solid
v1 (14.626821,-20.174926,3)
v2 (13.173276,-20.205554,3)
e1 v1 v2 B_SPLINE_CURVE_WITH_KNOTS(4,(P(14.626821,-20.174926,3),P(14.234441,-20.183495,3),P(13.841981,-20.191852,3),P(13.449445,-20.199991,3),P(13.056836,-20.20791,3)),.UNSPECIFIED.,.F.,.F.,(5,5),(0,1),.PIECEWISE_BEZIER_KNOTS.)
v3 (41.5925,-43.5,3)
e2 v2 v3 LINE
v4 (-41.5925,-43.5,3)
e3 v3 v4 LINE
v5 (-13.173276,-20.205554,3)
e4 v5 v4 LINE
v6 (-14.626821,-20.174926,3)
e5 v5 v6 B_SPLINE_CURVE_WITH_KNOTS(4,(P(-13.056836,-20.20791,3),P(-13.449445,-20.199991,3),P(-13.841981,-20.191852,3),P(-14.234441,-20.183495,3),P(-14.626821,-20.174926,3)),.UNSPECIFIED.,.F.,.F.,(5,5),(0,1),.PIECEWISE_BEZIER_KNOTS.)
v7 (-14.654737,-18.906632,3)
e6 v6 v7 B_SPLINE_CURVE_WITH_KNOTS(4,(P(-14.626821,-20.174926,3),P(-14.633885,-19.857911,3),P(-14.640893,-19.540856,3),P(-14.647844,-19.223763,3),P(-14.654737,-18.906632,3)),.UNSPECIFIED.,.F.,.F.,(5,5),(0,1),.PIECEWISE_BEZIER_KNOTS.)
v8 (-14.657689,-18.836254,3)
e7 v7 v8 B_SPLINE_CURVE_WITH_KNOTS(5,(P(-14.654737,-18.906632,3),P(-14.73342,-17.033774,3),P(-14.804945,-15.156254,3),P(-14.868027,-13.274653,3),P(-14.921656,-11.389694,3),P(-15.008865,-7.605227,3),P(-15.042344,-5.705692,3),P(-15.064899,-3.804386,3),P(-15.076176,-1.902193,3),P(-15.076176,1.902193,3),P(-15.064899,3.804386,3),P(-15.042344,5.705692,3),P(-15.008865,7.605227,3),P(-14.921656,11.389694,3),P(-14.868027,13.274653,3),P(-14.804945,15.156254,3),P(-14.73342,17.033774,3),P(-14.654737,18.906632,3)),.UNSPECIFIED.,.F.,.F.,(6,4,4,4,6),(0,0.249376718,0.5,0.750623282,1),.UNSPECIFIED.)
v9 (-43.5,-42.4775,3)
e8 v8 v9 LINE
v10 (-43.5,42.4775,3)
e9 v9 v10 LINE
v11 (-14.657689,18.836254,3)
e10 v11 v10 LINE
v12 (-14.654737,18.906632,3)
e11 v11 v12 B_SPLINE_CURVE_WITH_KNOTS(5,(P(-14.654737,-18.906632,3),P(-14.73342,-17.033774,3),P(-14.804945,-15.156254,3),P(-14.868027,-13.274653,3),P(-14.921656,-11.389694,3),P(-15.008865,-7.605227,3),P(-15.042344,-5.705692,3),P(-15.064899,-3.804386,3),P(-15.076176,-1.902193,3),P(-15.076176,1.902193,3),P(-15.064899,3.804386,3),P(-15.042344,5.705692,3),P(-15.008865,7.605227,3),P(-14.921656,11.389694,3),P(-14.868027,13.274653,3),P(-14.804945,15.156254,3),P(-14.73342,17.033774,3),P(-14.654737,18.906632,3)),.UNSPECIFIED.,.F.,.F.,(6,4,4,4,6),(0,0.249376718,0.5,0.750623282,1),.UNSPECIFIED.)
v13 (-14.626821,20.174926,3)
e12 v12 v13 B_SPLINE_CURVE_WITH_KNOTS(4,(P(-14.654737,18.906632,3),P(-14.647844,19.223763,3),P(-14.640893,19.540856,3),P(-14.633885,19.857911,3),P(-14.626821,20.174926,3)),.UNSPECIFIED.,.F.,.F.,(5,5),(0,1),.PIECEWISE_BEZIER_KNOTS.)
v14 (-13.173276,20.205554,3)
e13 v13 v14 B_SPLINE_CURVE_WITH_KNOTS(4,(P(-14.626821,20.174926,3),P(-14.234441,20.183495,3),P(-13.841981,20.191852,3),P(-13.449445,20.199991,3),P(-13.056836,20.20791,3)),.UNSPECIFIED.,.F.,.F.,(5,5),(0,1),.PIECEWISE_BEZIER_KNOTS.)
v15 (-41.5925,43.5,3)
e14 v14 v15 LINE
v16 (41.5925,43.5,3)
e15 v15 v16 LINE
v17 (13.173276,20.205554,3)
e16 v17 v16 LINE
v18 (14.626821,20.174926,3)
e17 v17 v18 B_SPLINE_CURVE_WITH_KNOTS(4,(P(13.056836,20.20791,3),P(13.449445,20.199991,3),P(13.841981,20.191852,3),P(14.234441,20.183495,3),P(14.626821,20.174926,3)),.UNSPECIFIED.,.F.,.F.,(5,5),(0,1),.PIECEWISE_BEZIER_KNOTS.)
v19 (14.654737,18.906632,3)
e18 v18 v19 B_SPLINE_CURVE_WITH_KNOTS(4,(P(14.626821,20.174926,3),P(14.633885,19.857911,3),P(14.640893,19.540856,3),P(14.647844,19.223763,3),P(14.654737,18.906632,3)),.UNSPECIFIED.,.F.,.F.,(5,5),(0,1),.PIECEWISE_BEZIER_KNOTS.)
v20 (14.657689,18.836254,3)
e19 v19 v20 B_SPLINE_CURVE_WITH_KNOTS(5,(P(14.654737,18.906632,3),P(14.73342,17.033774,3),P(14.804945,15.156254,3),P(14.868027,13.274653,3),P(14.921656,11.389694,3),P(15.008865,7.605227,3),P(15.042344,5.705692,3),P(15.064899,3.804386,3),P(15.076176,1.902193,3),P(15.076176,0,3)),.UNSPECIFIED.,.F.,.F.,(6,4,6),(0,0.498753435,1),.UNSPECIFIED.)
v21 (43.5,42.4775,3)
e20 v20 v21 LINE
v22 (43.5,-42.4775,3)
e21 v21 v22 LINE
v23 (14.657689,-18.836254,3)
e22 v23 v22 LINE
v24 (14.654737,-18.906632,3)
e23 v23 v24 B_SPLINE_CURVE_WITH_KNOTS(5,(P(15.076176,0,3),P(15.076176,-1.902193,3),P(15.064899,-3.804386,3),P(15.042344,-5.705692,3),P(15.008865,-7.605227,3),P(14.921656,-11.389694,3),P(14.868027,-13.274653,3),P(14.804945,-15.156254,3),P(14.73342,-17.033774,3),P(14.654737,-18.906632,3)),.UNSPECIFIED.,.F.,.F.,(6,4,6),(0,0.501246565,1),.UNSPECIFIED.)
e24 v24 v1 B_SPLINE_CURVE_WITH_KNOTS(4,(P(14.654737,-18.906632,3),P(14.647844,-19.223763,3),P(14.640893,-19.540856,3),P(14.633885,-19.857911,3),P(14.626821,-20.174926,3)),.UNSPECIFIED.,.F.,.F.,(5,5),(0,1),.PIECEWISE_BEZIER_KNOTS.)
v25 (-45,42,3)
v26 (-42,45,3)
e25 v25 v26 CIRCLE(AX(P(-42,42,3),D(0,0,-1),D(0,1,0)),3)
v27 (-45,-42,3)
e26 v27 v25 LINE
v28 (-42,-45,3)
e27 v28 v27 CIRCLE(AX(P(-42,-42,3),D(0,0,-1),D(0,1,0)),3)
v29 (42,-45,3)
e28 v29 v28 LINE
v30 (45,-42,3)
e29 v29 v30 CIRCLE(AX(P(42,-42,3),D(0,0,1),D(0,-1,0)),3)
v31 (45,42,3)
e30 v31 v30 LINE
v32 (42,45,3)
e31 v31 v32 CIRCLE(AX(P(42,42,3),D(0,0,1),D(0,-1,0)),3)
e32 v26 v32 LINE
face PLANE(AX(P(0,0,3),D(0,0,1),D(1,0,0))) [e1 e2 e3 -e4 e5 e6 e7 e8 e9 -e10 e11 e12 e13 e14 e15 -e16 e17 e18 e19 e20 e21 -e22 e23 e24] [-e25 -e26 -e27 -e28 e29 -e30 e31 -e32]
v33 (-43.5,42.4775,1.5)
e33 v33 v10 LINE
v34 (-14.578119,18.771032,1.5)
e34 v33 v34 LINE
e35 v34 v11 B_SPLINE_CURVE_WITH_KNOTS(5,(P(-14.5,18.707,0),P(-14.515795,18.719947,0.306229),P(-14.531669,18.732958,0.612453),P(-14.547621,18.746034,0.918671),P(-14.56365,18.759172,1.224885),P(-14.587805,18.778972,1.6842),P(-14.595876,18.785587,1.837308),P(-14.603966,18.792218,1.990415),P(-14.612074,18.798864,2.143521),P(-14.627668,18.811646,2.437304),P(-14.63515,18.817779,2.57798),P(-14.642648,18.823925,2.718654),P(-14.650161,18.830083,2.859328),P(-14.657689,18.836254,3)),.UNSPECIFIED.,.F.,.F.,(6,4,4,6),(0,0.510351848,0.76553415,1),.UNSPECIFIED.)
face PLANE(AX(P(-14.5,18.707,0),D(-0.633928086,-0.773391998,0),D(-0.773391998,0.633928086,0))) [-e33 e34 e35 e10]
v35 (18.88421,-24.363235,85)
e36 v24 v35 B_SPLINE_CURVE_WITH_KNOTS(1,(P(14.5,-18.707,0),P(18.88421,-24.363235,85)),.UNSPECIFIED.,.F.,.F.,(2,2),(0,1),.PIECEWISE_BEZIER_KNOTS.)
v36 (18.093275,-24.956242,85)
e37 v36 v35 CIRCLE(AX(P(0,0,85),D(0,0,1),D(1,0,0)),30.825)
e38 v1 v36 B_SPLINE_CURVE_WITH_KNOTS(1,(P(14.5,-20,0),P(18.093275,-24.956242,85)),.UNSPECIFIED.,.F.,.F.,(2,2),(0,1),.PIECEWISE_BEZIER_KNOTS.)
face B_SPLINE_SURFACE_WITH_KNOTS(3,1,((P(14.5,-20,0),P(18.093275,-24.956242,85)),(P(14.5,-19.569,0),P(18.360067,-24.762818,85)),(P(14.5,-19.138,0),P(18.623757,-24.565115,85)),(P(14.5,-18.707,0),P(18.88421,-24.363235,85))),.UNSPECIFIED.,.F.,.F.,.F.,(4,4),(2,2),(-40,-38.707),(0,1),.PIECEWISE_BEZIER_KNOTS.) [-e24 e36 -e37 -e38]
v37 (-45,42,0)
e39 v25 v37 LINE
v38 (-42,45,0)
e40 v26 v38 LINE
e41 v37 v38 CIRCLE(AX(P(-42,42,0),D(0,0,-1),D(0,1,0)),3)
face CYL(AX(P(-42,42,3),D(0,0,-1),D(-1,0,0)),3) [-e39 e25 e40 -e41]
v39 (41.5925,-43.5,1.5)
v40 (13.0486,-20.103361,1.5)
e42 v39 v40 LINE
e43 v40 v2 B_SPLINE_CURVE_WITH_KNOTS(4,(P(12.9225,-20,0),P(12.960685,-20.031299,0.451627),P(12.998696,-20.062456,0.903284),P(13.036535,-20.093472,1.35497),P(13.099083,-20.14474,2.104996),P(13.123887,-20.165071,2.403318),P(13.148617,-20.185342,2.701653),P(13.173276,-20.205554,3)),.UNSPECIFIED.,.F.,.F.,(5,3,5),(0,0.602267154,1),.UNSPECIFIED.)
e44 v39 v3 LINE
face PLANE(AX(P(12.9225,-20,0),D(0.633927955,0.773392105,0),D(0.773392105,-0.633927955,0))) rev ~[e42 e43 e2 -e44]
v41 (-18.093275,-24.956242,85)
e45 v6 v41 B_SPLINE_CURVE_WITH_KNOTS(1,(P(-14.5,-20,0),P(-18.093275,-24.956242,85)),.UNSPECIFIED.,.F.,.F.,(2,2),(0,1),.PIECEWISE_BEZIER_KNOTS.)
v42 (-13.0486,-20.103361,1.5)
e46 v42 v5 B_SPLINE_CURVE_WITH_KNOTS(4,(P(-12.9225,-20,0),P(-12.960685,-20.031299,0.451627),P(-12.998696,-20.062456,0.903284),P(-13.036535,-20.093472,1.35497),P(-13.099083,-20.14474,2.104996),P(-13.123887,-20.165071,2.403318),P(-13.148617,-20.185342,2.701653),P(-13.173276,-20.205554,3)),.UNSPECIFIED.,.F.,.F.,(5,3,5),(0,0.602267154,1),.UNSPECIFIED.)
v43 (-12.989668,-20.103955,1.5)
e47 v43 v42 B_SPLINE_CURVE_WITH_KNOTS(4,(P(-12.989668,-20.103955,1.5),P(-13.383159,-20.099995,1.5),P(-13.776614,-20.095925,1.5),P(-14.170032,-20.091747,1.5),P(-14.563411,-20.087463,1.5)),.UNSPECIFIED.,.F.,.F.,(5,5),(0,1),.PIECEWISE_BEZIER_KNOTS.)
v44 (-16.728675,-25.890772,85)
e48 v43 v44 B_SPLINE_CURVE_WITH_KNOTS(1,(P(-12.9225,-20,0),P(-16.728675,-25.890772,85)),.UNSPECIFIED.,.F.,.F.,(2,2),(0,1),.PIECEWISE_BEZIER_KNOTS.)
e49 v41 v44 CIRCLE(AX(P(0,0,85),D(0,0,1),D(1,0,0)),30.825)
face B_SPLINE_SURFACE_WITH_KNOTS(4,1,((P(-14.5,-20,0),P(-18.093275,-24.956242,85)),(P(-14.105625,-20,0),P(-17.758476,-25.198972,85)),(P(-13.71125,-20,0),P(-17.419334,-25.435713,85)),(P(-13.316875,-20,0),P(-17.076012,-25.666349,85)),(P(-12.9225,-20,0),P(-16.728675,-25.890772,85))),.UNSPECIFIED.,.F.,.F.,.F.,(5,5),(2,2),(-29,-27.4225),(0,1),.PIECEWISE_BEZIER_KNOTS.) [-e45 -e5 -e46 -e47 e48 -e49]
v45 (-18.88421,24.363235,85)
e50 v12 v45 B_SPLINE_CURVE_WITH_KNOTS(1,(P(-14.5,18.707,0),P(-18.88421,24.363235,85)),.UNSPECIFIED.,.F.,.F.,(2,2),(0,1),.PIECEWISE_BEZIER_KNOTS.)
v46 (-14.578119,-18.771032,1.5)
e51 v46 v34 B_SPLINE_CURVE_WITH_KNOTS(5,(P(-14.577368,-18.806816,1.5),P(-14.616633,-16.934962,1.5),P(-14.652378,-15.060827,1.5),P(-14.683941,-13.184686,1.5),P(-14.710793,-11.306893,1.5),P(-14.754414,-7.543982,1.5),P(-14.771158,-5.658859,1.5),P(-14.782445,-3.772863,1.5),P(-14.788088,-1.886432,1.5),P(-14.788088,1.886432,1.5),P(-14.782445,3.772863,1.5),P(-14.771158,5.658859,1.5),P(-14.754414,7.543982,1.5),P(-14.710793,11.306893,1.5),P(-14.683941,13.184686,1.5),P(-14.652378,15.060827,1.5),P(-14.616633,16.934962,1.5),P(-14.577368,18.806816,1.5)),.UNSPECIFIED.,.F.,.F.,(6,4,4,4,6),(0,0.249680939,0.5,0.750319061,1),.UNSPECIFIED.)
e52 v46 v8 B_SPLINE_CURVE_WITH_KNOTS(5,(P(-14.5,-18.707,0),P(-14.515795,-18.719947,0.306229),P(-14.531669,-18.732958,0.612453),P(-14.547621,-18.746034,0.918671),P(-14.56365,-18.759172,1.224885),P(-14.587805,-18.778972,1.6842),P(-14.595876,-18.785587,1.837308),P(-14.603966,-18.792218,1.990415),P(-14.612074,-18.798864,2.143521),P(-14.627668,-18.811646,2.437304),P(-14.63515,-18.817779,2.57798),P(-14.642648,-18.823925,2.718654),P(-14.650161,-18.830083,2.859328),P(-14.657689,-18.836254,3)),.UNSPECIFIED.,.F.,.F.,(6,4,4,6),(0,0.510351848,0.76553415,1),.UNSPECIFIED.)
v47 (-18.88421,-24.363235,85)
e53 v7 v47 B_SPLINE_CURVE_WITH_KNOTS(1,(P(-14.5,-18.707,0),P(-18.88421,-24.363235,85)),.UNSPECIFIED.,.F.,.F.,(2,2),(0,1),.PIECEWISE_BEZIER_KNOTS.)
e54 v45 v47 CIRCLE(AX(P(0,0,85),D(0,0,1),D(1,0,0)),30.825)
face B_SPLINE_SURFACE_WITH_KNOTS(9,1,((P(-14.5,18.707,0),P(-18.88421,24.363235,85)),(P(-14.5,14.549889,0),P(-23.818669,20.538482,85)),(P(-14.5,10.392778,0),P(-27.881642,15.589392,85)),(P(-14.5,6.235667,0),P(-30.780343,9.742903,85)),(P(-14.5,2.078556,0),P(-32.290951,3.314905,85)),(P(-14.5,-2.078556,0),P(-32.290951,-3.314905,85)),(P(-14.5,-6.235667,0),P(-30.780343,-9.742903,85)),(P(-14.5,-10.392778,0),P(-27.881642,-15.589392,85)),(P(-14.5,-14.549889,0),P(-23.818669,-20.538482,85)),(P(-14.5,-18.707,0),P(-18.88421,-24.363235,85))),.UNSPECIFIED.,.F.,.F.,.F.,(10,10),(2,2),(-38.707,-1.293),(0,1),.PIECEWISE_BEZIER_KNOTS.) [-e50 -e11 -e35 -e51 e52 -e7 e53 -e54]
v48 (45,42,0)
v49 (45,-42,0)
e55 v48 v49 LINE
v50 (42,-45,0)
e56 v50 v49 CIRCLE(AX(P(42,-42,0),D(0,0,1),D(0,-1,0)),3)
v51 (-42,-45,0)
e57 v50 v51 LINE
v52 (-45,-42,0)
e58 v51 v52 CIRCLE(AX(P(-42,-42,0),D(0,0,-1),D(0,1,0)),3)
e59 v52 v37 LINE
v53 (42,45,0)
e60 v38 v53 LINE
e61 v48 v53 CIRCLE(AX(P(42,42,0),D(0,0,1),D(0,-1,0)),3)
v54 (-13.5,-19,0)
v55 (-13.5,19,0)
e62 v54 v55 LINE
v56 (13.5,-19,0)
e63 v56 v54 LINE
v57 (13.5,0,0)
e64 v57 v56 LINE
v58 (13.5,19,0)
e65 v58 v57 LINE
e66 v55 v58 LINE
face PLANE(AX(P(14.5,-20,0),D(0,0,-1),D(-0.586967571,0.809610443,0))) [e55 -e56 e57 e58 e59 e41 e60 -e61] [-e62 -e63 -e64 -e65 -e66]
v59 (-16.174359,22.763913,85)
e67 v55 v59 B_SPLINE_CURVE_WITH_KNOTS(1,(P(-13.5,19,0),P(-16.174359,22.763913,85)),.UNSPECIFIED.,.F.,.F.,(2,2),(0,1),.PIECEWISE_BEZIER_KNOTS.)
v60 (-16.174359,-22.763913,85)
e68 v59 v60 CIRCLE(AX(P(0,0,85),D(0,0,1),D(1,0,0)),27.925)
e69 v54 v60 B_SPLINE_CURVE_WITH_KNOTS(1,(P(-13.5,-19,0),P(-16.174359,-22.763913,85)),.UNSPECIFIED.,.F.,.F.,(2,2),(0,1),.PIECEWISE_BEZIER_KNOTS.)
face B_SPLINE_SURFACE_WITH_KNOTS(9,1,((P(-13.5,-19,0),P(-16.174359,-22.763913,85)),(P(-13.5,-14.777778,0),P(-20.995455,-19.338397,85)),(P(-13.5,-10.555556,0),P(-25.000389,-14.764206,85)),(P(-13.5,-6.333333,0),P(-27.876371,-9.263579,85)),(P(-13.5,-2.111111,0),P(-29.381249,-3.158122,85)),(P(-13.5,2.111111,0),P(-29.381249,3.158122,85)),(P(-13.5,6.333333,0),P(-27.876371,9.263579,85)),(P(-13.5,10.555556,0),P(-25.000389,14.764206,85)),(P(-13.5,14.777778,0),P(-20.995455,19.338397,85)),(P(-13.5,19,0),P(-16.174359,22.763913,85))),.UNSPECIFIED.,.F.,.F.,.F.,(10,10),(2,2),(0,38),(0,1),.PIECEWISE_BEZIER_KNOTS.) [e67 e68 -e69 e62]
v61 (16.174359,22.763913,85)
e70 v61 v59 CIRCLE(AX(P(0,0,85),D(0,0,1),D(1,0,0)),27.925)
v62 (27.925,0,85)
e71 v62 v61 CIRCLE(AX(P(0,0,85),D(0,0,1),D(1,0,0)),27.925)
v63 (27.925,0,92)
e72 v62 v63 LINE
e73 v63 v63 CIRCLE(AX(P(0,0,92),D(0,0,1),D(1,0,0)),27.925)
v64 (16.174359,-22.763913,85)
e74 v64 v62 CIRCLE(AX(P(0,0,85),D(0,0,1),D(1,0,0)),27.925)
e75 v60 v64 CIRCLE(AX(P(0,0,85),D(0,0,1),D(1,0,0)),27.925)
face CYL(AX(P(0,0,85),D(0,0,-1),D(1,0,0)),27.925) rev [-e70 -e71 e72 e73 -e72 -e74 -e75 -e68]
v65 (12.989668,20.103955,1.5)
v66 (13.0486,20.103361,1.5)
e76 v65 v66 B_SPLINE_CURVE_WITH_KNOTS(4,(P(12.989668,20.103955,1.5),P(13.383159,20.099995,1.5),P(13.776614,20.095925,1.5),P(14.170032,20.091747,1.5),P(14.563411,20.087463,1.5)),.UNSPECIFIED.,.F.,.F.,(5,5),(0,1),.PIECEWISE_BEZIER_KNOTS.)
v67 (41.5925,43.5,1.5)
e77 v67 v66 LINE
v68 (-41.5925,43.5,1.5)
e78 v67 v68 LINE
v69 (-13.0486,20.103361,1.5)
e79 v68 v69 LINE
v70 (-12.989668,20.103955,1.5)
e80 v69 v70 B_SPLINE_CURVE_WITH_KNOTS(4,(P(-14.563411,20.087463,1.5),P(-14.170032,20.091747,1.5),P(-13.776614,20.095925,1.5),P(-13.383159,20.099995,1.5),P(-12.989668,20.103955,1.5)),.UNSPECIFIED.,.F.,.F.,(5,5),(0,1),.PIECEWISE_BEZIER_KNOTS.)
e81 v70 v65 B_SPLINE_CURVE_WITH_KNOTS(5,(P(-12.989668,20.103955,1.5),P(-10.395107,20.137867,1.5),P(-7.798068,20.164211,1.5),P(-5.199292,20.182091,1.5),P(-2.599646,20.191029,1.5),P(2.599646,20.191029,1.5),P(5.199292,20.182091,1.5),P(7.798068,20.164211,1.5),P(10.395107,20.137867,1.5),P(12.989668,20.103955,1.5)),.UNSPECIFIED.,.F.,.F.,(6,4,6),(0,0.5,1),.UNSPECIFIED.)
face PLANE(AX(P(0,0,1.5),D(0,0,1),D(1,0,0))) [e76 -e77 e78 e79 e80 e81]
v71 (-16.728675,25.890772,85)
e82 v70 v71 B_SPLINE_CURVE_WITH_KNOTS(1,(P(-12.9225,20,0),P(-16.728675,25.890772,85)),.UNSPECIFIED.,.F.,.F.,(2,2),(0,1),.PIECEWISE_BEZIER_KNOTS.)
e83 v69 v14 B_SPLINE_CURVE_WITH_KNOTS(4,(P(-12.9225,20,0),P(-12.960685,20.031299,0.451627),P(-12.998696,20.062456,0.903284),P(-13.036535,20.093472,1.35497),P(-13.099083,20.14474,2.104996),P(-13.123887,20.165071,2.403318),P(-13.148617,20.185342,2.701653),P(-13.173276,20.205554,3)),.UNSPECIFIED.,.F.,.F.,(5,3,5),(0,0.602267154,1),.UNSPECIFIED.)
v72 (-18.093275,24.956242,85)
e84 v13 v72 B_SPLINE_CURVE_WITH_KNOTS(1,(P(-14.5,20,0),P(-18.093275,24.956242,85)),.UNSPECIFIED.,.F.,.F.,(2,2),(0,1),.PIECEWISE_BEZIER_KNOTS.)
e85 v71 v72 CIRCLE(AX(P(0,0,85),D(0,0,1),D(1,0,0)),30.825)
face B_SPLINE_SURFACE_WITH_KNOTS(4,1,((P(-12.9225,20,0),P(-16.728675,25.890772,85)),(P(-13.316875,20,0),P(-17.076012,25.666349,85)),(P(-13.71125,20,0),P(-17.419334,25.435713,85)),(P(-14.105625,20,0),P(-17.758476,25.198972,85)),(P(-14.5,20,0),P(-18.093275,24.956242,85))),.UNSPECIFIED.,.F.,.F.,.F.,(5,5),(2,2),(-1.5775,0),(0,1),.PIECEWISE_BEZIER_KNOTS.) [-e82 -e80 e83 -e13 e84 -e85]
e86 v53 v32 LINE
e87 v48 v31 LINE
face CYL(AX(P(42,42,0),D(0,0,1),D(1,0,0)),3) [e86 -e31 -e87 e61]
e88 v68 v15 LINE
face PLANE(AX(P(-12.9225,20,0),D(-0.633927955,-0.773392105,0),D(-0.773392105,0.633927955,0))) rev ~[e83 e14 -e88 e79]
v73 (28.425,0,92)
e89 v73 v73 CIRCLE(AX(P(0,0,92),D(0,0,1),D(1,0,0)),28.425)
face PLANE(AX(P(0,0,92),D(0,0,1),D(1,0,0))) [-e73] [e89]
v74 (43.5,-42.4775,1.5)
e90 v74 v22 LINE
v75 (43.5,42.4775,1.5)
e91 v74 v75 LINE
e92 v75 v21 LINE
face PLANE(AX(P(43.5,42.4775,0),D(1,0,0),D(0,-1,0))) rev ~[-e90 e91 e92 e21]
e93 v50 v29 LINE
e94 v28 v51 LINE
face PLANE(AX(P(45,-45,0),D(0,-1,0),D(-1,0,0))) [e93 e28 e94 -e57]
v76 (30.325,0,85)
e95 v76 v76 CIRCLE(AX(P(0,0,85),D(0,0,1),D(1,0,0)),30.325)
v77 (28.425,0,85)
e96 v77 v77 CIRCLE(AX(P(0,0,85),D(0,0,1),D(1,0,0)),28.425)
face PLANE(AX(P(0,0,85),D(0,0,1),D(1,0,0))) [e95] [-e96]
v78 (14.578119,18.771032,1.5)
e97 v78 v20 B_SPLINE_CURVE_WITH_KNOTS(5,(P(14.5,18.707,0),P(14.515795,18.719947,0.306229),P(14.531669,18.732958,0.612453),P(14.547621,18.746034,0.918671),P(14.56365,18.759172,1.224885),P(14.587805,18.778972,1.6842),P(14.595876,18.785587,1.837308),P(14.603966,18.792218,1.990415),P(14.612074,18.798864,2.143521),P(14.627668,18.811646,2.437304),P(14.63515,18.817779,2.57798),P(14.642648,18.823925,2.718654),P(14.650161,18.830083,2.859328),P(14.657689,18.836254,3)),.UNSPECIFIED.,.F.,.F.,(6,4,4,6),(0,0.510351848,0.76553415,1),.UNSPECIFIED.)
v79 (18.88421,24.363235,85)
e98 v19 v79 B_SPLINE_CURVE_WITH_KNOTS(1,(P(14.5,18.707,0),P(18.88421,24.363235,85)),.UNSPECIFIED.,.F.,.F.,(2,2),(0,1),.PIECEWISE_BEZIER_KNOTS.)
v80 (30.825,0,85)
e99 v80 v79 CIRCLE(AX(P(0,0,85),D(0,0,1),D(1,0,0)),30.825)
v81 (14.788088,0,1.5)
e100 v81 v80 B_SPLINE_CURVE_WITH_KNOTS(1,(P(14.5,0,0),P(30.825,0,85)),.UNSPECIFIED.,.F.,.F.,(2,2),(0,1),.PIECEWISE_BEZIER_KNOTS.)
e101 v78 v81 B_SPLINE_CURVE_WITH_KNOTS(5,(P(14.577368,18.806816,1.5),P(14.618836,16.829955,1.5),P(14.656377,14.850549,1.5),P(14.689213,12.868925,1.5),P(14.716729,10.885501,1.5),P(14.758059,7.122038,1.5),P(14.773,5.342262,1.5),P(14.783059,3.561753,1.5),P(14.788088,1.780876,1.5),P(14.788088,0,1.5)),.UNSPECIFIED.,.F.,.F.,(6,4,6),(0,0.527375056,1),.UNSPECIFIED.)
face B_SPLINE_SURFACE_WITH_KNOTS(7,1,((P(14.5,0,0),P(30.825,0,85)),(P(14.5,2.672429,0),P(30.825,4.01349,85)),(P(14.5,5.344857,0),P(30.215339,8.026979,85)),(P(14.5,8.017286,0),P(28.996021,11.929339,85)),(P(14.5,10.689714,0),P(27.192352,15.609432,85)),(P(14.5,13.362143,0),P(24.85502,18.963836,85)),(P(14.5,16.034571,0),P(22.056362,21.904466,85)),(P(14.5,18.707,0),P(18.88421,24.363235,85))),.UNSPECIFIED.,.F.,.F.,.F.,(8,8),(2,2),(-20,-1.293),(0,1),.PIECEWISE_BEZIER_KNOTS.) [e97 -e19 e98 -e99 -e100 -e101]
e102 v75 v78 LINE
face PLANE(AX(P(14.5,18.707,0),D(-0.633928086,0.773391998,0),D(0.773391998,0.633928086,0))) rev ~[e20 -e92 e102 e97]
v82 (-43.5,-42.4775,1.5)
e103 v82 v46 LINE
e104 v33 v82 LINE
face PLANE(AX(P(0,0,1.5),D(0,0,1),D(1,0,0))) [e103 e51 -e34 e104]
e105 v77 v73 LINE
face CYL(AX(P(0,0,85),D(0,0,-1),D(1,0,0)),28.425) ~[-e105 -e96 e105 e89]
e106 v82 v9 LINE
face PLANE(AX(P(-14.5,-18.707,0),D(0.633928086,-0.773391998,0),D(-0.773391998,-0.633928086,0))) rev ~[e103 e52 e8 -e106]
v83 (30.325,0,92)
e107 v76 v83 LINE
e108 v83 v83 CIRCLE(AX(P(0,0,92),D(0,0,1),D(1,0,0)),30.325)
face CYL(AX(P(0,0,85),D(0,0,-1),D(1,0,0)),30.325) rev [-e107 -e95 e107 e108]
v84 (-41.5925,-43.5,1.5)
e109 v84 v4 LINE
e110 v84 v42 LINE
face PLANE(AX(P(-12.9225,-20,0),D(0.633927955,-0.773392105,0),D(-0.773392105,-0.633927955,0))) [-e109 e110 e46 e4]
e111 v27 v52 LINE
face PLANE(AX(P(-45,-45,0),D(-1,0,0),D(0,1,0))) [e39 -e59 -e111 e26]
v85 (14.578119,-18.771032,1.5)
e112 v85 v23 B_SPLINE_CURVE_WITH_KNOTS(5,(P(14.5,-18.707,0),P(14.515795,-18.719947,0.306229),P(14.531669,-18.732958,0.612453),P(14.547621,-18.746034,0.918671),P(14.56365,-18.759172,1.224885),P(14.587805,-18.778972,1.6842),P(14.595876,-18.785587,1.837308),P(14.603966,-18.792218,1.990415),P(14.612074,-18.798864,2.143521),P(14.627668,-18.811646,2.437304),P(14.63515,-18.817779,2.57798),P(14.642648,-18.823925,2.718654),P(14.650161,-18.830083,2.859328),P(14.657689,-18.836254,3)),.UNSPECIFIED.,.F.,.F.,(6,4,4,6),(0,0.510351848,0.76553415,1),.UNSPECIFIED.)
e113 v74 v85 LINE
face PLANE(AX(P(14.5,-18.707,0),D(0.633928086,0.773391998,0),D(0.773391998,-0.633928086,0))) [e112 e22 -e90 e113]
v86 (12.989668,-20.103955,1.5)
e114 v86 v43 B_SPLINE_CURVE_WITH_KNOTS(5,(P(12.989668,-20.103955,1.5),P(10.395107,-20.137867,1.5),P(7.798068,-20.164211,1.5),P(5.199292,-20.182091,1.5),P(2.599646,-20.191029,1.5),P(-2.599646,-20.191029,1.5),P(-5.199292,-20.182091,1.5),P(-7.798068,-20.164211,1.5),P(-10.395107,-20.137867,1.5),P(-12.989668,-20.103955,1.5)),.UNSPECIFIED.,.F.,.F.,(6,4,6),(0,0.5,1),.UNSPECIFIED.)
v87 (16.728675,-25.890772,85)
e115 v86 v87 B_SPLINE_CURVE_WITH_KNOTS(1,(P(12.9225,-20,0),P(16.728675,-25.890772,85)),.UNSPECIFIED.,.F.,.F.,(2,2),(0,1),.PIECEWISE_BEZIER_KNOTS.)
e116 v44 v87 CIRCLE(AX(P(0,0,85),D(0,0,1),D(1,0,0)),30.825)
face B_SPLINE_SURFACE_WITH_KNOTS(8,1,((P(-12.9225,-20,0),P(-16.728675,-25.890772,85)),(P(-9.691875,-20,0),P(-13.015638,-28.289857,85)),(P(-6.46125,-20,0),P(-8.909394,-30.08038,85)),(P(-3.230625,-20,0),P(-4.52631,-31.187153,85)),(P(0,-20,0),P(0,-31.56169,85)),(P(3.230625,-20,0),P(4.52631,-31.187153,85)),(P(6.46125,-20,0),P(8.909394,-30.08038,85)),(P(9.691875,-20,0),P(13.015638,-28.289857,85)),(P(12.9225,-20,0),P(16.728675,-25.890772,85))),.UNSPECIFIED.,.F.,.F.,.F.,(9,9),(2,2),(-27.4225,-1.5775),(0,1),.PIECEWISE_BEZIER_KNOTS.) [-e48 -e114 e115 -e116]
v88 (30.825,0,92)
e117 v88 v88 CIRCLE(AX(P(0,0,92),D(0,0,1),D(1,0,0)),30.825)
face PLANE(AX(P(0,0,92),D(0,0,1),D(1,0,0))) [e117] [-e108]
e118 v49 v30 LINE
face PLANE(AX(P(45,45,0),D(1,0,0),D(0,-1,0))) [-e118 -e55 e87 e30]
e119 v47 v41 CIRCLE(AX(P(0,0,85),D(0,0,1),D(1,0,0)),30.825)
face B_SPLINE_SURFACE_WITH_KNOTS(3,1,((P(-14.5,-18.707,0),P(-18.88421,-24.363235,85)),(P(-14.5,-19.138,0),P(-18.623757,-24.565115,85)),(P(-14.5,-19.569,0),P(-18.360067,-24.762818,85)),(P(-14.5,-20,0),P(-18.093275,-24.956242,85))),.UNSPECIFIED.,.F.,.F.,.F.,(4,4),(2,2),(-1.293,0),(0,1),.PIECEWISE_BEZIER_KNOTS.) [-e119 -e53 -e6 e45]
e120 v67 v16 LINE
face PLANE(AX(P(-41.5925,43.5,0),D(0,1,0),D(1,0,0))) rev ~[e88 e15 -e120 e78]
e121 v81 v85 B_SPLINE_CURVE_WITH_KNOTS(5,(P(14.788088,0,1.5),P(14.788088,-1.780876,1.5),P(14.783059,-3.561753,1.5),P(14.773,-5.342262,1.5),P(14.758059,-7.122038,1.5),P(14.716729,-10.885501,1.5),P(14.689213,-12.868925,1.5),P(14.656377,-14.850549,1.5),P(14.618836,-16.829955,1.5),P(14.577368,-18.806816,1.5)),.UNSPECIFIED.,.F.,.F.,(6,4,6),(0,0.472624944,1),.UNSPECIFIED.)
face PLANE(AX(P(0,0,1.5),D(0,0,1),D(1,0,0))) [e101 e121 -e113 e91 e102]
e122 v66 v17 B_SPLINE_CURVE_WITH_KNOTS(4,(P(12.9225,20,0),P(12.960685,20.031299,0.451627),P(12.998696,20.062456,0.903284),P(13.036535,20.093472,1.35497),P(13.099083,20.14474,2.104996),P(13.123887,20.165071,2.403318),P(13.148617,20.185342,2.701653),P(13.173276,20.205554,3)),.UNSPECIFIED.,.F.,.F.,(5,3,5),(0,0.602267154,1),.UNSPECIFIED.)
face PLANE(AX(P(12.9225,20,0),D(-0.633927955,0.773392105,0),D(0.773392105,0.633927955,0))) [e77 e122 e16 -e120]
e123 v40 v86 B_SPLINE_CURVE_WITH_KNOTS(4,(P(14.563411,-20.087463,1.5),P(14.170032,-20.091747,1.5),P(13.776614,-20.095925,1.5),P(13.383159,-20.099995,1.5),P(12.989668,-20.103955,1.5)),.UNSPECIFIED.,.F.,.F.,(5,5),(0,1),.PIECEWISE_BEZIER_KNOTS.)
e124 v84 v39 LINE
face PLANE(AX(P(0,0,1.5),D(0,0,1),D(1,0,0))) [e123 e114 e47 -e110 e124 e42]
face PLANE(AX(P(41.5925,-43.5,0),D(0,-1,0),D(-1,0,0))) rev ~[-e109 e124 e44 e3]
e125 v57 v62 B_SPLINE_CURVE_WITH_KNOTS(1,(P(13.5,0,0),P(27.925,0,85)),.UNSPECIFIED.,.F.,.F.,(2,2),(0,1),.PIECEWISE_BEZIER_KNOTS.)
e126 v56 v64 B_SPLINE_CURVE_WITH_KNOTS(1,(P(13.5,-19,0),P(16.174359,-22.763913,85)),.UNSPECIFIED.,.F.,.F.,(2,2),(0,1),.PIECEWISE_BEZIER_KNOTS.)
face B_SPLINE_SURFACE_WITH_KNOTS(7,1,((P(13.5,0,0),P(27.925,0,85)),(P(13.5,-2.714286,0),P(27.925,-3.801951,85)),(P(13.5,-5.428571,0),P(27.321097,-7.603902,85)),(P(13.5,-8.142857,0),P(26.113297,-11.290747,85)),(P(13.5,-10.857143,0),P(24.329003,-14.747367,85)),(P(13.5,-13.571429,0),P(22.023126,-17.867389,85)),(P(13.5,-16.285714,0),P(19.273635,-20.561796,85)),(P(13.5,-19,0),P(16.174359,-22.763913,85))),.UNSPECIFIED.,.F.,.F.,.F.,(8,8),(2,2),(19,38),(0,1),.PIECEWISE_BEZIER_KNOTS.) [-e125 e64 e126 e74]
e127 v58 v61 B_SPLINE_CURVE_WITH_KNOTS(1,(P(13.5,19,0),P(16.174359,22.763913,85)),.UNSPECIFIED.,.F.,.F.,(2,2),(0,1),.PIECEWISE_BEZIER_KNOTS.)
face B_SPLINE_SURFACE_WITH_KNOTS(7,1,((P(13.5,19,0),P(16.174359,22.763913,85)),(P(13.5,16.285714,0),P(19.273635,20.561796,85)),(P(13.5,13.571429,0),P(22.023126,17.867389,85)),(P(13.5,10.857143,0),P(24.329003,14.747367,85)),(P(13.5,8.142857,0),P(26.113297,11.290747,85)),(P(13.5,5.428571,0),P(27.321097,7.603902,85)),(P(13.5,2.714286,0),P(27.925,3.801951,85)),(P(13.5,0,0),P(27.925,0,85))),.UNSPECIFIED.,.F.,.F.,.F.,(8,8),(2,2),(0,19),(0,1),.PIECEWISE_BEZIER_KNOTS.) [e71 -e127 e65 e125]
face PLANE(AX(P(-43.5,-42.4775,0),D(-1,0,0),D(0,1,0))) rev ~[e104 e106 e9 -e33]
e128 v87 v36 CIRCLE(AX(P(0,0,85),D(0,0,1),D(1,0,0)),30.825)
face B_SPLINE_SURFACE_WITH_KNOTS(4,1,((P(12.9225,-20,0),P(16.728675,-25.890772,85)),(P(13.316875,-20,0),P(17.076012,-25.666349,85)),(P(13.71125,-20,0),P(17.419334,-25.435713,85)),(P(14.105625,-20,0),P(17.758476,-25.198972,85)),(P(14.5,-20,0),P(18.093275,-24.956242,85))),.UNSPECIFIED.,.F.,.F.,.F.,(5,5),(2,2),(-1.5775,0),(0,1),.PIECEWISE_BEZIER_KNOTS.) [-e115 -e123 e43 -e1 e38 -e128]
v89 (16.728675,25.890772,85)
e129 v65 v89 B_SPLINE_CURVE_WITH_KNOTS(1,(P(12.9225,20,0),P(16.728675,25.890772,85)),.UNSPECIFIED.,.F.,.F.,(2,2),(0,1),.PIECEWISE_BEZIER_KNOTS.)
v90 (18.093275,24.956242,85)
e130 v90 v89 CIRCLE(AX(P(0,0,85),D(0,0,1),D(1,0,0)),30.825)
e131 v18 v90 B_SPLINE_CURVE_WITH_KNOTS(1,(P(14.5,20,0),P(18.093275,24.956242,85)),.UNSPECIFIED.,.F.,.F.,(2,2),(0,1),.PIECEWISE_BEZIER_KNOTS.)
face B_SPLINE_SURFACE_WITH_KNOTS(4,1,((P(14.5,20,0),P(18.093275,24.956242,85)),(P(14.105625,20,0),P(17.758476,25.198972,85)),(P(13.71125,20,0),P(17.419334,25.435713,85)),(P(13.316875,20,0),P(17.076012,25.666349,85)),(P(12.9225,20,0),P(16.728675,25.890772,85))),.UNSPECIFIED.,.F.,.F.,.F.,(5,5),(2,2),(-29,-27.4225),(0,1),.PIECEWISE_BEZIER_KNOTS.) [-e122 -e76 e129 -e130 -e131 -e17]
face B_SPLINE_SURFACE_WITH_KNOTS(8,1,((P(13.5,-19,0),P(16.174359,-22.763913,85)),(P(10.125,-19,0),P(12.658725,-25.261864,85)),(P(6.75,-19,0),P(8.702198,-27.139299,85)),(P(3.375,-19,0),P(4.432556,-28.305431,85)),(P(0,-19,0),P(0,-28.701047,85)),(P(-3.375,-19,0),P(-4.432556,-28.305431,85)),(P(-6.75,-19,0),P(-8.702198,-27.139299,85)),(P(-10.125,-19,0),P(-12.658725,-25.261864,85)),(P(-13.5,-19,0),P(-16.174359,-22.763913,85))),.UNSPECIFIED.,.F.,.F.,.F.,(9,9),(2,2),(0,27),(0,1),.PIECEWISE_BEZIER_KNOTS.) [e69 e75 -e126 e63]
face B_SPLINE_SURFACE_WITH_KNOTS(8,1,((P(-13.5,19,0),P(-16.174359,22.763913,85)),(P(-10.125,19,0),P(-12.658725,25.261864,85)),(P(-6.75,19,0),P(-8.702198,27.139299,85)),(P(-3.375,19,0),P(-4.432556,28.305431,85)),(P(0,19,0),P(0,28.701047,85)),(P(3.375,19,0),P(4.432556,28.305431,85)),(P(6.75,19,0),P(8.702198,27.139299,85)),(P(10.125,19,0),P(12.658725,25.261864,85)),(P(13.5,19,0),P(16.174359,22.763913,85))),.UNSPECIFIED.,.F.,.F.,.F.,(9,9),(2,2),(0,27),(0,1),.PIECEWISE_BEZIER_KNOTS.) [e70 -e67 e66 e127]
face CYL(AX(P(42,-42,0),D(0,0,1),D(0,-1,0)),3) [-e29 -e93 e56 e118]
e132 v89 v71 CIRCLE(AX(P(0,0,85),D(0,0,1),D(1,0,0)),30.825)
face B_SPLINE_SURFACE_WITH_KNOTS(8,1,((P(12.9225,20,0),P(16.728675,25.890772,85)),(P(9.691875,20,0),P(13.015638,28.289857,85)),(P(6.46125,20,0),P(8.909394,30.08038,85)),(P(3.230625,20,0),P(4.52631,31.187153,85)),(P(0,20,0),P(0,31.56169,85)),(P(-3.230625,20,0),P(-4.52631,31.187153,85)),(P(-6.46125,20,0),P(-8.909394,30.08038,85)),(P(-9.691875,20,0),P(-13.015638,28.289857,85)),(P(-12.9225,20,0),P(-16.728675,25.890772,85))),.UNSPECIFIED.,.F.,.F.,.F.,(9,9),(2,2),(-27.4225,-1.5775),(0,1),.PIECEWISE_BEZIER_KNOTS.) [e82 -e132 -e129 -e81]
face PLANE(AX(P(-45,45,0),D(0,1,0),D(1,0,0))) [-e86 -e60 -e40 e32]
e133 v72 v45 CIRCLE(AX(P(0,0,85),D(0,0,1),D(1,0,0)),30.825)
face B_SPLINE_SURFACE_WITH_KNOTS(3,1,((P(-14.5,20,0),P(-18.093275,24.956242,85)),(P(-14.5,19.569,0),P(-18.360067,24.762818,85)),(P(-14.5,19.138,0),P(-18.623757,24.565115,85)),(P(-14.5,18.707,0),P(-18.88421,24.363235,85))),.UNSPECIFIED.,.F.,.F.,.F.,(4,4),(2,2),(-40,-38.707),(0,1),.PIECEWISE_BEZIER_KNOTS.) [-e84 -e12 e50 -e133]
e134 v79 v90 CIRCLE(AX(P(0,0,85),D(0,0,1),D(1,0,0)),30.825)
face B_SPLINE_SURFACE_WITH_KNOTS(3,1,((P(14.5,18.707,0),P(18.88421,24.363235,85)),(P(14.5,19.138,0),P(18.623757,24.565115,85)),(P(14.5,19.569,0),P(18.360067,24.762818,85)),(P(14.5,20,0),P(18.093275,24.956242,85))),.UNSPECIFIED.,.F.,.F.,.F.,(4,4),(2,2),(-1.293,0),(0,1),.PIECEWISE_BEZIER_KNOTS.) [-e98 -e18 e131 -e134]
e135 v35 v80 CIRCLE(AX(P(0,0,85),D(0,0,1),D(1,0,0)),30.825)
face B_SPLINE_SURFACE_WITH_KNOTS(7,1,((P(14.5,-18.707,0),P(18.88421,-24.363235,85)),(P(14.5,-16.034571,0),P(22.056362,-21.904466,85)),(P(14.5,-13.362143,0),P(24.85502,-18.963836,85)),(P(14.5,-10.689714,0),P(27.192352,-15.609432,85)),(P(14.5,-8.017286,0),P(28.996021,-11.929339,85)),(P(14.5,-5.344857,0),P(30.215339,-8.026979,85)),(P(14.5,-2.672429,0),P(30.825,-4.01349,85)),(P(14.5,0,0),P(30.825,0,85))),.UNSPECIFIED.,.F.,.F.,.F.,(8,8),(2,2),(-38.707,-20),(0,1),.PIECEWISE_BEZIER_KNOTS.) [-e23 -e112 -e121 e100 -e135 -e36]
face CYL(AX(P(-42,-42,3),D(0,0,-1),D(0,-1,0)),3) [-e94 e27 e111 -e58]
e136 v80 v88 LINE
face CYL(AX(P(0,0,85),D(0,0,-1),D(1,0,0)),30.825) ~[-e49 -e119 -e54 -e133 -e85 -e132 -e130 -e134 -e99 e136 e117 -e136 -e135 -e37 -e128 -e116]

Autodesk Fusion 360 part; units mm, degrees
sketch "Sketch1" plane through (0, 0, 0) normal (0, 0, 1) x (1, 0, 0)
  line L0 (-13.5, 19) -> (13.5, 19)
  line L1 (13.5, 19) -> (13.5, -19)
  line L2 (13.5, -19) -> (-13.5, -19)
  line L3 (-13.5, -19) -> (-13.5, 19)
  line L4 (-13.5, 19) -> (13.5, -19) construction
  line L5 (14.5, -20) -> (-14.5, -20)
  line L6 (-14.5, -20) -> (-14.5, 20)
  line L7 (-14.5, 20) -> (14.5, 20)
  line L8 (14.5, 20) -> (14.5, -20)
  line L9 (-45, 45) -> (45, 45)
  line L10 (45, 45) -> (45, -45)
  line L11 (45, -45) -> (-45, -45)
  line L12 (-45, -45) -> (-45, 45)
  line L13 (-45, 45) -> (45, -45) construction
  line L14 (-14.5, -20) -> (-45, -45)
  line L15 (-14.5, 20) -> (-45, 45)
  line L16 (14.5, 20) -> (45, 45)
  line L17 (14.5, -20) -> (45, -45)
  line L18 (-43.5, 43.5) -> (43.5, 43.5)
  line L19 (43.5, 43.5) -> (43.5, -43.5)
  line L20 (43.5, -43.5) -> (-43.5, -43.5)
  line L21 (-43.5, -43.5) -> (-43.5, 43.5)
  line L22 (-12.9225, 20) -> (-41.5925, 43.5)
  line L23 (-14.5, 18.707) -> (-43.5, 42.4775)
  line L24 (14.5, 18.707) -> (43.5, 42.4775)
  line L25 (12.9225, 20) -> (41.5925, 43.5)
  line L26 (12.9225, -20) -> (41.5925, -43.5)
  line L27 (14.5, -18.707) -> (43.5, -42.4775)
  line L28 (-14.5, -18.707) -> (-43.5, -42.4775)
  line L29 (-12.9225, -20) -> (-41.5925, -43.5)
  dimension "d5" = 27
  dimension "d6" = 38
  dimension "d15" = 90
  dimension "d16" = 90
  dimension "d44" = 1.5
ref_plane "WorkPlane1" through (0, 0, 85) normal (0, 0, 1) x (1, 0, 0)
sketch "Sketch2" plane through (0, 0, 85) normal (0, 0, 1) x (1, 0, 0)
  circle A0 centre (0, 0) radius 28.425
  circle A1 centre (0, 0) radius 30.325
  circle A2 centre (0, 0) radius 27.925
  circle A3 centre (0, 0) radius 30.825
  dimension "d10" = 56.85
  dimension "d11" = 60.65
  dimension "d13" = -0.5
  dimension "d14" = 0.5
loft "Loft3" add profiles "Sketch1", "Sketch2" section 1 contours L5 L6 L7 L8 section 2 contours A0 | A1 | A3 makes body 1
loft "Loft4" cut profiles "Sketch2", "Sketch1" section 1 contours A2 section 2 contours L0 L1 L2 L3 bodies 1
extrude "Extrude3" add sketch "Sketch1" along normal blind 1.5 separate body contours L5 L17 L20 L26 | L8 L17 L19 L20 L27 | L5 L20 L26 L29 | L8 L19 L24 L27 | L10 L16 L17 L18 L19 L20 | L11 L14 L17 L20 | L5 L14 L20 L29 | L8 L16 L18 L19 L24 | L6 L14 L20 L21 L28 | L7 L16 L18 L25 | L9 L15 L16 L18 | L12 L14 L15 L18 L20 L21 | L6 L21 L23 L28 | L7 L18 L22 L25 | L6 L15 L18 L21 L23 | L7 L15 L18 L22 makes body 2
extrude "Extrude4" add sketch "Sketch2" along normal blind 7 bodies 1
extrude "Extrude7" add sketch "Sketch1" along normal blind 3 contours L5 L17 L20 L26 | L8 L17 L19 L20 L27 | L10 L16 L17 L18 L19 L20 | L11 L14 L17 L20 | L5 L14 L20 L29 | L8 L16 L18 L19 L24 | L6 L14 L20 L21 L28 | L7 L16 L18 L25 | L9 L15 L16 L18 | L12 L14 L15 L18 L20 L21 | L6 L15 L18 L21 L23 | L7 L15 L18 L22 bodies 1 2
fillet "Fillet1" radius 3 4 edges at (45, -45, 1.5) (-45, -45, 1.5) (-45, 45, 1.5) (45, 45, 1.5) on bodies 1
equation "aparture_x = 27 mm"
equation "aparture_y = 38 mm"
equation "tube_height = 85 mm"
equation "hood_lip_wall_thickness = 1 mm"
equation "d5 = aparture_x"
equation "d6 = aparture_y"
equation "d7 = tube_height"
equation "hood_inner_dia = 57 mm"
equation "hood_outer_dia = 60.5 mm"
equation "d10 = hood_inner_dia - hood_tolerance / 2"
equation "d11 = hood_outer_dia + hood_tolerance / 2"
equation "d13 = -hood_lip_wall_thickness / 2"
equation "d14 = hood_lip_wall_thickness / 2"
equation "d15 = raft_y"
equation "d16 = raft_x"
equation "raft_height = 1.5 mm"
equation "d22 = raft_height"
equation "hood_lip_height = 7 mm"
equation "d25 = hood_lip_height"
equation "raft_x = 90 mm"
equation "raft_y = 90 mm"
equation "rib_width = 1.5 mm"
equation "d44 = rib_width"
equation "rib_height = 1.5 mm"
equation "d54 = raft_height + rib_height"
equation "round_corner_radius = 3 mm"
equation "d58 = round_corner_radius"
equation "hood_tolerance = 0.3 mm"
